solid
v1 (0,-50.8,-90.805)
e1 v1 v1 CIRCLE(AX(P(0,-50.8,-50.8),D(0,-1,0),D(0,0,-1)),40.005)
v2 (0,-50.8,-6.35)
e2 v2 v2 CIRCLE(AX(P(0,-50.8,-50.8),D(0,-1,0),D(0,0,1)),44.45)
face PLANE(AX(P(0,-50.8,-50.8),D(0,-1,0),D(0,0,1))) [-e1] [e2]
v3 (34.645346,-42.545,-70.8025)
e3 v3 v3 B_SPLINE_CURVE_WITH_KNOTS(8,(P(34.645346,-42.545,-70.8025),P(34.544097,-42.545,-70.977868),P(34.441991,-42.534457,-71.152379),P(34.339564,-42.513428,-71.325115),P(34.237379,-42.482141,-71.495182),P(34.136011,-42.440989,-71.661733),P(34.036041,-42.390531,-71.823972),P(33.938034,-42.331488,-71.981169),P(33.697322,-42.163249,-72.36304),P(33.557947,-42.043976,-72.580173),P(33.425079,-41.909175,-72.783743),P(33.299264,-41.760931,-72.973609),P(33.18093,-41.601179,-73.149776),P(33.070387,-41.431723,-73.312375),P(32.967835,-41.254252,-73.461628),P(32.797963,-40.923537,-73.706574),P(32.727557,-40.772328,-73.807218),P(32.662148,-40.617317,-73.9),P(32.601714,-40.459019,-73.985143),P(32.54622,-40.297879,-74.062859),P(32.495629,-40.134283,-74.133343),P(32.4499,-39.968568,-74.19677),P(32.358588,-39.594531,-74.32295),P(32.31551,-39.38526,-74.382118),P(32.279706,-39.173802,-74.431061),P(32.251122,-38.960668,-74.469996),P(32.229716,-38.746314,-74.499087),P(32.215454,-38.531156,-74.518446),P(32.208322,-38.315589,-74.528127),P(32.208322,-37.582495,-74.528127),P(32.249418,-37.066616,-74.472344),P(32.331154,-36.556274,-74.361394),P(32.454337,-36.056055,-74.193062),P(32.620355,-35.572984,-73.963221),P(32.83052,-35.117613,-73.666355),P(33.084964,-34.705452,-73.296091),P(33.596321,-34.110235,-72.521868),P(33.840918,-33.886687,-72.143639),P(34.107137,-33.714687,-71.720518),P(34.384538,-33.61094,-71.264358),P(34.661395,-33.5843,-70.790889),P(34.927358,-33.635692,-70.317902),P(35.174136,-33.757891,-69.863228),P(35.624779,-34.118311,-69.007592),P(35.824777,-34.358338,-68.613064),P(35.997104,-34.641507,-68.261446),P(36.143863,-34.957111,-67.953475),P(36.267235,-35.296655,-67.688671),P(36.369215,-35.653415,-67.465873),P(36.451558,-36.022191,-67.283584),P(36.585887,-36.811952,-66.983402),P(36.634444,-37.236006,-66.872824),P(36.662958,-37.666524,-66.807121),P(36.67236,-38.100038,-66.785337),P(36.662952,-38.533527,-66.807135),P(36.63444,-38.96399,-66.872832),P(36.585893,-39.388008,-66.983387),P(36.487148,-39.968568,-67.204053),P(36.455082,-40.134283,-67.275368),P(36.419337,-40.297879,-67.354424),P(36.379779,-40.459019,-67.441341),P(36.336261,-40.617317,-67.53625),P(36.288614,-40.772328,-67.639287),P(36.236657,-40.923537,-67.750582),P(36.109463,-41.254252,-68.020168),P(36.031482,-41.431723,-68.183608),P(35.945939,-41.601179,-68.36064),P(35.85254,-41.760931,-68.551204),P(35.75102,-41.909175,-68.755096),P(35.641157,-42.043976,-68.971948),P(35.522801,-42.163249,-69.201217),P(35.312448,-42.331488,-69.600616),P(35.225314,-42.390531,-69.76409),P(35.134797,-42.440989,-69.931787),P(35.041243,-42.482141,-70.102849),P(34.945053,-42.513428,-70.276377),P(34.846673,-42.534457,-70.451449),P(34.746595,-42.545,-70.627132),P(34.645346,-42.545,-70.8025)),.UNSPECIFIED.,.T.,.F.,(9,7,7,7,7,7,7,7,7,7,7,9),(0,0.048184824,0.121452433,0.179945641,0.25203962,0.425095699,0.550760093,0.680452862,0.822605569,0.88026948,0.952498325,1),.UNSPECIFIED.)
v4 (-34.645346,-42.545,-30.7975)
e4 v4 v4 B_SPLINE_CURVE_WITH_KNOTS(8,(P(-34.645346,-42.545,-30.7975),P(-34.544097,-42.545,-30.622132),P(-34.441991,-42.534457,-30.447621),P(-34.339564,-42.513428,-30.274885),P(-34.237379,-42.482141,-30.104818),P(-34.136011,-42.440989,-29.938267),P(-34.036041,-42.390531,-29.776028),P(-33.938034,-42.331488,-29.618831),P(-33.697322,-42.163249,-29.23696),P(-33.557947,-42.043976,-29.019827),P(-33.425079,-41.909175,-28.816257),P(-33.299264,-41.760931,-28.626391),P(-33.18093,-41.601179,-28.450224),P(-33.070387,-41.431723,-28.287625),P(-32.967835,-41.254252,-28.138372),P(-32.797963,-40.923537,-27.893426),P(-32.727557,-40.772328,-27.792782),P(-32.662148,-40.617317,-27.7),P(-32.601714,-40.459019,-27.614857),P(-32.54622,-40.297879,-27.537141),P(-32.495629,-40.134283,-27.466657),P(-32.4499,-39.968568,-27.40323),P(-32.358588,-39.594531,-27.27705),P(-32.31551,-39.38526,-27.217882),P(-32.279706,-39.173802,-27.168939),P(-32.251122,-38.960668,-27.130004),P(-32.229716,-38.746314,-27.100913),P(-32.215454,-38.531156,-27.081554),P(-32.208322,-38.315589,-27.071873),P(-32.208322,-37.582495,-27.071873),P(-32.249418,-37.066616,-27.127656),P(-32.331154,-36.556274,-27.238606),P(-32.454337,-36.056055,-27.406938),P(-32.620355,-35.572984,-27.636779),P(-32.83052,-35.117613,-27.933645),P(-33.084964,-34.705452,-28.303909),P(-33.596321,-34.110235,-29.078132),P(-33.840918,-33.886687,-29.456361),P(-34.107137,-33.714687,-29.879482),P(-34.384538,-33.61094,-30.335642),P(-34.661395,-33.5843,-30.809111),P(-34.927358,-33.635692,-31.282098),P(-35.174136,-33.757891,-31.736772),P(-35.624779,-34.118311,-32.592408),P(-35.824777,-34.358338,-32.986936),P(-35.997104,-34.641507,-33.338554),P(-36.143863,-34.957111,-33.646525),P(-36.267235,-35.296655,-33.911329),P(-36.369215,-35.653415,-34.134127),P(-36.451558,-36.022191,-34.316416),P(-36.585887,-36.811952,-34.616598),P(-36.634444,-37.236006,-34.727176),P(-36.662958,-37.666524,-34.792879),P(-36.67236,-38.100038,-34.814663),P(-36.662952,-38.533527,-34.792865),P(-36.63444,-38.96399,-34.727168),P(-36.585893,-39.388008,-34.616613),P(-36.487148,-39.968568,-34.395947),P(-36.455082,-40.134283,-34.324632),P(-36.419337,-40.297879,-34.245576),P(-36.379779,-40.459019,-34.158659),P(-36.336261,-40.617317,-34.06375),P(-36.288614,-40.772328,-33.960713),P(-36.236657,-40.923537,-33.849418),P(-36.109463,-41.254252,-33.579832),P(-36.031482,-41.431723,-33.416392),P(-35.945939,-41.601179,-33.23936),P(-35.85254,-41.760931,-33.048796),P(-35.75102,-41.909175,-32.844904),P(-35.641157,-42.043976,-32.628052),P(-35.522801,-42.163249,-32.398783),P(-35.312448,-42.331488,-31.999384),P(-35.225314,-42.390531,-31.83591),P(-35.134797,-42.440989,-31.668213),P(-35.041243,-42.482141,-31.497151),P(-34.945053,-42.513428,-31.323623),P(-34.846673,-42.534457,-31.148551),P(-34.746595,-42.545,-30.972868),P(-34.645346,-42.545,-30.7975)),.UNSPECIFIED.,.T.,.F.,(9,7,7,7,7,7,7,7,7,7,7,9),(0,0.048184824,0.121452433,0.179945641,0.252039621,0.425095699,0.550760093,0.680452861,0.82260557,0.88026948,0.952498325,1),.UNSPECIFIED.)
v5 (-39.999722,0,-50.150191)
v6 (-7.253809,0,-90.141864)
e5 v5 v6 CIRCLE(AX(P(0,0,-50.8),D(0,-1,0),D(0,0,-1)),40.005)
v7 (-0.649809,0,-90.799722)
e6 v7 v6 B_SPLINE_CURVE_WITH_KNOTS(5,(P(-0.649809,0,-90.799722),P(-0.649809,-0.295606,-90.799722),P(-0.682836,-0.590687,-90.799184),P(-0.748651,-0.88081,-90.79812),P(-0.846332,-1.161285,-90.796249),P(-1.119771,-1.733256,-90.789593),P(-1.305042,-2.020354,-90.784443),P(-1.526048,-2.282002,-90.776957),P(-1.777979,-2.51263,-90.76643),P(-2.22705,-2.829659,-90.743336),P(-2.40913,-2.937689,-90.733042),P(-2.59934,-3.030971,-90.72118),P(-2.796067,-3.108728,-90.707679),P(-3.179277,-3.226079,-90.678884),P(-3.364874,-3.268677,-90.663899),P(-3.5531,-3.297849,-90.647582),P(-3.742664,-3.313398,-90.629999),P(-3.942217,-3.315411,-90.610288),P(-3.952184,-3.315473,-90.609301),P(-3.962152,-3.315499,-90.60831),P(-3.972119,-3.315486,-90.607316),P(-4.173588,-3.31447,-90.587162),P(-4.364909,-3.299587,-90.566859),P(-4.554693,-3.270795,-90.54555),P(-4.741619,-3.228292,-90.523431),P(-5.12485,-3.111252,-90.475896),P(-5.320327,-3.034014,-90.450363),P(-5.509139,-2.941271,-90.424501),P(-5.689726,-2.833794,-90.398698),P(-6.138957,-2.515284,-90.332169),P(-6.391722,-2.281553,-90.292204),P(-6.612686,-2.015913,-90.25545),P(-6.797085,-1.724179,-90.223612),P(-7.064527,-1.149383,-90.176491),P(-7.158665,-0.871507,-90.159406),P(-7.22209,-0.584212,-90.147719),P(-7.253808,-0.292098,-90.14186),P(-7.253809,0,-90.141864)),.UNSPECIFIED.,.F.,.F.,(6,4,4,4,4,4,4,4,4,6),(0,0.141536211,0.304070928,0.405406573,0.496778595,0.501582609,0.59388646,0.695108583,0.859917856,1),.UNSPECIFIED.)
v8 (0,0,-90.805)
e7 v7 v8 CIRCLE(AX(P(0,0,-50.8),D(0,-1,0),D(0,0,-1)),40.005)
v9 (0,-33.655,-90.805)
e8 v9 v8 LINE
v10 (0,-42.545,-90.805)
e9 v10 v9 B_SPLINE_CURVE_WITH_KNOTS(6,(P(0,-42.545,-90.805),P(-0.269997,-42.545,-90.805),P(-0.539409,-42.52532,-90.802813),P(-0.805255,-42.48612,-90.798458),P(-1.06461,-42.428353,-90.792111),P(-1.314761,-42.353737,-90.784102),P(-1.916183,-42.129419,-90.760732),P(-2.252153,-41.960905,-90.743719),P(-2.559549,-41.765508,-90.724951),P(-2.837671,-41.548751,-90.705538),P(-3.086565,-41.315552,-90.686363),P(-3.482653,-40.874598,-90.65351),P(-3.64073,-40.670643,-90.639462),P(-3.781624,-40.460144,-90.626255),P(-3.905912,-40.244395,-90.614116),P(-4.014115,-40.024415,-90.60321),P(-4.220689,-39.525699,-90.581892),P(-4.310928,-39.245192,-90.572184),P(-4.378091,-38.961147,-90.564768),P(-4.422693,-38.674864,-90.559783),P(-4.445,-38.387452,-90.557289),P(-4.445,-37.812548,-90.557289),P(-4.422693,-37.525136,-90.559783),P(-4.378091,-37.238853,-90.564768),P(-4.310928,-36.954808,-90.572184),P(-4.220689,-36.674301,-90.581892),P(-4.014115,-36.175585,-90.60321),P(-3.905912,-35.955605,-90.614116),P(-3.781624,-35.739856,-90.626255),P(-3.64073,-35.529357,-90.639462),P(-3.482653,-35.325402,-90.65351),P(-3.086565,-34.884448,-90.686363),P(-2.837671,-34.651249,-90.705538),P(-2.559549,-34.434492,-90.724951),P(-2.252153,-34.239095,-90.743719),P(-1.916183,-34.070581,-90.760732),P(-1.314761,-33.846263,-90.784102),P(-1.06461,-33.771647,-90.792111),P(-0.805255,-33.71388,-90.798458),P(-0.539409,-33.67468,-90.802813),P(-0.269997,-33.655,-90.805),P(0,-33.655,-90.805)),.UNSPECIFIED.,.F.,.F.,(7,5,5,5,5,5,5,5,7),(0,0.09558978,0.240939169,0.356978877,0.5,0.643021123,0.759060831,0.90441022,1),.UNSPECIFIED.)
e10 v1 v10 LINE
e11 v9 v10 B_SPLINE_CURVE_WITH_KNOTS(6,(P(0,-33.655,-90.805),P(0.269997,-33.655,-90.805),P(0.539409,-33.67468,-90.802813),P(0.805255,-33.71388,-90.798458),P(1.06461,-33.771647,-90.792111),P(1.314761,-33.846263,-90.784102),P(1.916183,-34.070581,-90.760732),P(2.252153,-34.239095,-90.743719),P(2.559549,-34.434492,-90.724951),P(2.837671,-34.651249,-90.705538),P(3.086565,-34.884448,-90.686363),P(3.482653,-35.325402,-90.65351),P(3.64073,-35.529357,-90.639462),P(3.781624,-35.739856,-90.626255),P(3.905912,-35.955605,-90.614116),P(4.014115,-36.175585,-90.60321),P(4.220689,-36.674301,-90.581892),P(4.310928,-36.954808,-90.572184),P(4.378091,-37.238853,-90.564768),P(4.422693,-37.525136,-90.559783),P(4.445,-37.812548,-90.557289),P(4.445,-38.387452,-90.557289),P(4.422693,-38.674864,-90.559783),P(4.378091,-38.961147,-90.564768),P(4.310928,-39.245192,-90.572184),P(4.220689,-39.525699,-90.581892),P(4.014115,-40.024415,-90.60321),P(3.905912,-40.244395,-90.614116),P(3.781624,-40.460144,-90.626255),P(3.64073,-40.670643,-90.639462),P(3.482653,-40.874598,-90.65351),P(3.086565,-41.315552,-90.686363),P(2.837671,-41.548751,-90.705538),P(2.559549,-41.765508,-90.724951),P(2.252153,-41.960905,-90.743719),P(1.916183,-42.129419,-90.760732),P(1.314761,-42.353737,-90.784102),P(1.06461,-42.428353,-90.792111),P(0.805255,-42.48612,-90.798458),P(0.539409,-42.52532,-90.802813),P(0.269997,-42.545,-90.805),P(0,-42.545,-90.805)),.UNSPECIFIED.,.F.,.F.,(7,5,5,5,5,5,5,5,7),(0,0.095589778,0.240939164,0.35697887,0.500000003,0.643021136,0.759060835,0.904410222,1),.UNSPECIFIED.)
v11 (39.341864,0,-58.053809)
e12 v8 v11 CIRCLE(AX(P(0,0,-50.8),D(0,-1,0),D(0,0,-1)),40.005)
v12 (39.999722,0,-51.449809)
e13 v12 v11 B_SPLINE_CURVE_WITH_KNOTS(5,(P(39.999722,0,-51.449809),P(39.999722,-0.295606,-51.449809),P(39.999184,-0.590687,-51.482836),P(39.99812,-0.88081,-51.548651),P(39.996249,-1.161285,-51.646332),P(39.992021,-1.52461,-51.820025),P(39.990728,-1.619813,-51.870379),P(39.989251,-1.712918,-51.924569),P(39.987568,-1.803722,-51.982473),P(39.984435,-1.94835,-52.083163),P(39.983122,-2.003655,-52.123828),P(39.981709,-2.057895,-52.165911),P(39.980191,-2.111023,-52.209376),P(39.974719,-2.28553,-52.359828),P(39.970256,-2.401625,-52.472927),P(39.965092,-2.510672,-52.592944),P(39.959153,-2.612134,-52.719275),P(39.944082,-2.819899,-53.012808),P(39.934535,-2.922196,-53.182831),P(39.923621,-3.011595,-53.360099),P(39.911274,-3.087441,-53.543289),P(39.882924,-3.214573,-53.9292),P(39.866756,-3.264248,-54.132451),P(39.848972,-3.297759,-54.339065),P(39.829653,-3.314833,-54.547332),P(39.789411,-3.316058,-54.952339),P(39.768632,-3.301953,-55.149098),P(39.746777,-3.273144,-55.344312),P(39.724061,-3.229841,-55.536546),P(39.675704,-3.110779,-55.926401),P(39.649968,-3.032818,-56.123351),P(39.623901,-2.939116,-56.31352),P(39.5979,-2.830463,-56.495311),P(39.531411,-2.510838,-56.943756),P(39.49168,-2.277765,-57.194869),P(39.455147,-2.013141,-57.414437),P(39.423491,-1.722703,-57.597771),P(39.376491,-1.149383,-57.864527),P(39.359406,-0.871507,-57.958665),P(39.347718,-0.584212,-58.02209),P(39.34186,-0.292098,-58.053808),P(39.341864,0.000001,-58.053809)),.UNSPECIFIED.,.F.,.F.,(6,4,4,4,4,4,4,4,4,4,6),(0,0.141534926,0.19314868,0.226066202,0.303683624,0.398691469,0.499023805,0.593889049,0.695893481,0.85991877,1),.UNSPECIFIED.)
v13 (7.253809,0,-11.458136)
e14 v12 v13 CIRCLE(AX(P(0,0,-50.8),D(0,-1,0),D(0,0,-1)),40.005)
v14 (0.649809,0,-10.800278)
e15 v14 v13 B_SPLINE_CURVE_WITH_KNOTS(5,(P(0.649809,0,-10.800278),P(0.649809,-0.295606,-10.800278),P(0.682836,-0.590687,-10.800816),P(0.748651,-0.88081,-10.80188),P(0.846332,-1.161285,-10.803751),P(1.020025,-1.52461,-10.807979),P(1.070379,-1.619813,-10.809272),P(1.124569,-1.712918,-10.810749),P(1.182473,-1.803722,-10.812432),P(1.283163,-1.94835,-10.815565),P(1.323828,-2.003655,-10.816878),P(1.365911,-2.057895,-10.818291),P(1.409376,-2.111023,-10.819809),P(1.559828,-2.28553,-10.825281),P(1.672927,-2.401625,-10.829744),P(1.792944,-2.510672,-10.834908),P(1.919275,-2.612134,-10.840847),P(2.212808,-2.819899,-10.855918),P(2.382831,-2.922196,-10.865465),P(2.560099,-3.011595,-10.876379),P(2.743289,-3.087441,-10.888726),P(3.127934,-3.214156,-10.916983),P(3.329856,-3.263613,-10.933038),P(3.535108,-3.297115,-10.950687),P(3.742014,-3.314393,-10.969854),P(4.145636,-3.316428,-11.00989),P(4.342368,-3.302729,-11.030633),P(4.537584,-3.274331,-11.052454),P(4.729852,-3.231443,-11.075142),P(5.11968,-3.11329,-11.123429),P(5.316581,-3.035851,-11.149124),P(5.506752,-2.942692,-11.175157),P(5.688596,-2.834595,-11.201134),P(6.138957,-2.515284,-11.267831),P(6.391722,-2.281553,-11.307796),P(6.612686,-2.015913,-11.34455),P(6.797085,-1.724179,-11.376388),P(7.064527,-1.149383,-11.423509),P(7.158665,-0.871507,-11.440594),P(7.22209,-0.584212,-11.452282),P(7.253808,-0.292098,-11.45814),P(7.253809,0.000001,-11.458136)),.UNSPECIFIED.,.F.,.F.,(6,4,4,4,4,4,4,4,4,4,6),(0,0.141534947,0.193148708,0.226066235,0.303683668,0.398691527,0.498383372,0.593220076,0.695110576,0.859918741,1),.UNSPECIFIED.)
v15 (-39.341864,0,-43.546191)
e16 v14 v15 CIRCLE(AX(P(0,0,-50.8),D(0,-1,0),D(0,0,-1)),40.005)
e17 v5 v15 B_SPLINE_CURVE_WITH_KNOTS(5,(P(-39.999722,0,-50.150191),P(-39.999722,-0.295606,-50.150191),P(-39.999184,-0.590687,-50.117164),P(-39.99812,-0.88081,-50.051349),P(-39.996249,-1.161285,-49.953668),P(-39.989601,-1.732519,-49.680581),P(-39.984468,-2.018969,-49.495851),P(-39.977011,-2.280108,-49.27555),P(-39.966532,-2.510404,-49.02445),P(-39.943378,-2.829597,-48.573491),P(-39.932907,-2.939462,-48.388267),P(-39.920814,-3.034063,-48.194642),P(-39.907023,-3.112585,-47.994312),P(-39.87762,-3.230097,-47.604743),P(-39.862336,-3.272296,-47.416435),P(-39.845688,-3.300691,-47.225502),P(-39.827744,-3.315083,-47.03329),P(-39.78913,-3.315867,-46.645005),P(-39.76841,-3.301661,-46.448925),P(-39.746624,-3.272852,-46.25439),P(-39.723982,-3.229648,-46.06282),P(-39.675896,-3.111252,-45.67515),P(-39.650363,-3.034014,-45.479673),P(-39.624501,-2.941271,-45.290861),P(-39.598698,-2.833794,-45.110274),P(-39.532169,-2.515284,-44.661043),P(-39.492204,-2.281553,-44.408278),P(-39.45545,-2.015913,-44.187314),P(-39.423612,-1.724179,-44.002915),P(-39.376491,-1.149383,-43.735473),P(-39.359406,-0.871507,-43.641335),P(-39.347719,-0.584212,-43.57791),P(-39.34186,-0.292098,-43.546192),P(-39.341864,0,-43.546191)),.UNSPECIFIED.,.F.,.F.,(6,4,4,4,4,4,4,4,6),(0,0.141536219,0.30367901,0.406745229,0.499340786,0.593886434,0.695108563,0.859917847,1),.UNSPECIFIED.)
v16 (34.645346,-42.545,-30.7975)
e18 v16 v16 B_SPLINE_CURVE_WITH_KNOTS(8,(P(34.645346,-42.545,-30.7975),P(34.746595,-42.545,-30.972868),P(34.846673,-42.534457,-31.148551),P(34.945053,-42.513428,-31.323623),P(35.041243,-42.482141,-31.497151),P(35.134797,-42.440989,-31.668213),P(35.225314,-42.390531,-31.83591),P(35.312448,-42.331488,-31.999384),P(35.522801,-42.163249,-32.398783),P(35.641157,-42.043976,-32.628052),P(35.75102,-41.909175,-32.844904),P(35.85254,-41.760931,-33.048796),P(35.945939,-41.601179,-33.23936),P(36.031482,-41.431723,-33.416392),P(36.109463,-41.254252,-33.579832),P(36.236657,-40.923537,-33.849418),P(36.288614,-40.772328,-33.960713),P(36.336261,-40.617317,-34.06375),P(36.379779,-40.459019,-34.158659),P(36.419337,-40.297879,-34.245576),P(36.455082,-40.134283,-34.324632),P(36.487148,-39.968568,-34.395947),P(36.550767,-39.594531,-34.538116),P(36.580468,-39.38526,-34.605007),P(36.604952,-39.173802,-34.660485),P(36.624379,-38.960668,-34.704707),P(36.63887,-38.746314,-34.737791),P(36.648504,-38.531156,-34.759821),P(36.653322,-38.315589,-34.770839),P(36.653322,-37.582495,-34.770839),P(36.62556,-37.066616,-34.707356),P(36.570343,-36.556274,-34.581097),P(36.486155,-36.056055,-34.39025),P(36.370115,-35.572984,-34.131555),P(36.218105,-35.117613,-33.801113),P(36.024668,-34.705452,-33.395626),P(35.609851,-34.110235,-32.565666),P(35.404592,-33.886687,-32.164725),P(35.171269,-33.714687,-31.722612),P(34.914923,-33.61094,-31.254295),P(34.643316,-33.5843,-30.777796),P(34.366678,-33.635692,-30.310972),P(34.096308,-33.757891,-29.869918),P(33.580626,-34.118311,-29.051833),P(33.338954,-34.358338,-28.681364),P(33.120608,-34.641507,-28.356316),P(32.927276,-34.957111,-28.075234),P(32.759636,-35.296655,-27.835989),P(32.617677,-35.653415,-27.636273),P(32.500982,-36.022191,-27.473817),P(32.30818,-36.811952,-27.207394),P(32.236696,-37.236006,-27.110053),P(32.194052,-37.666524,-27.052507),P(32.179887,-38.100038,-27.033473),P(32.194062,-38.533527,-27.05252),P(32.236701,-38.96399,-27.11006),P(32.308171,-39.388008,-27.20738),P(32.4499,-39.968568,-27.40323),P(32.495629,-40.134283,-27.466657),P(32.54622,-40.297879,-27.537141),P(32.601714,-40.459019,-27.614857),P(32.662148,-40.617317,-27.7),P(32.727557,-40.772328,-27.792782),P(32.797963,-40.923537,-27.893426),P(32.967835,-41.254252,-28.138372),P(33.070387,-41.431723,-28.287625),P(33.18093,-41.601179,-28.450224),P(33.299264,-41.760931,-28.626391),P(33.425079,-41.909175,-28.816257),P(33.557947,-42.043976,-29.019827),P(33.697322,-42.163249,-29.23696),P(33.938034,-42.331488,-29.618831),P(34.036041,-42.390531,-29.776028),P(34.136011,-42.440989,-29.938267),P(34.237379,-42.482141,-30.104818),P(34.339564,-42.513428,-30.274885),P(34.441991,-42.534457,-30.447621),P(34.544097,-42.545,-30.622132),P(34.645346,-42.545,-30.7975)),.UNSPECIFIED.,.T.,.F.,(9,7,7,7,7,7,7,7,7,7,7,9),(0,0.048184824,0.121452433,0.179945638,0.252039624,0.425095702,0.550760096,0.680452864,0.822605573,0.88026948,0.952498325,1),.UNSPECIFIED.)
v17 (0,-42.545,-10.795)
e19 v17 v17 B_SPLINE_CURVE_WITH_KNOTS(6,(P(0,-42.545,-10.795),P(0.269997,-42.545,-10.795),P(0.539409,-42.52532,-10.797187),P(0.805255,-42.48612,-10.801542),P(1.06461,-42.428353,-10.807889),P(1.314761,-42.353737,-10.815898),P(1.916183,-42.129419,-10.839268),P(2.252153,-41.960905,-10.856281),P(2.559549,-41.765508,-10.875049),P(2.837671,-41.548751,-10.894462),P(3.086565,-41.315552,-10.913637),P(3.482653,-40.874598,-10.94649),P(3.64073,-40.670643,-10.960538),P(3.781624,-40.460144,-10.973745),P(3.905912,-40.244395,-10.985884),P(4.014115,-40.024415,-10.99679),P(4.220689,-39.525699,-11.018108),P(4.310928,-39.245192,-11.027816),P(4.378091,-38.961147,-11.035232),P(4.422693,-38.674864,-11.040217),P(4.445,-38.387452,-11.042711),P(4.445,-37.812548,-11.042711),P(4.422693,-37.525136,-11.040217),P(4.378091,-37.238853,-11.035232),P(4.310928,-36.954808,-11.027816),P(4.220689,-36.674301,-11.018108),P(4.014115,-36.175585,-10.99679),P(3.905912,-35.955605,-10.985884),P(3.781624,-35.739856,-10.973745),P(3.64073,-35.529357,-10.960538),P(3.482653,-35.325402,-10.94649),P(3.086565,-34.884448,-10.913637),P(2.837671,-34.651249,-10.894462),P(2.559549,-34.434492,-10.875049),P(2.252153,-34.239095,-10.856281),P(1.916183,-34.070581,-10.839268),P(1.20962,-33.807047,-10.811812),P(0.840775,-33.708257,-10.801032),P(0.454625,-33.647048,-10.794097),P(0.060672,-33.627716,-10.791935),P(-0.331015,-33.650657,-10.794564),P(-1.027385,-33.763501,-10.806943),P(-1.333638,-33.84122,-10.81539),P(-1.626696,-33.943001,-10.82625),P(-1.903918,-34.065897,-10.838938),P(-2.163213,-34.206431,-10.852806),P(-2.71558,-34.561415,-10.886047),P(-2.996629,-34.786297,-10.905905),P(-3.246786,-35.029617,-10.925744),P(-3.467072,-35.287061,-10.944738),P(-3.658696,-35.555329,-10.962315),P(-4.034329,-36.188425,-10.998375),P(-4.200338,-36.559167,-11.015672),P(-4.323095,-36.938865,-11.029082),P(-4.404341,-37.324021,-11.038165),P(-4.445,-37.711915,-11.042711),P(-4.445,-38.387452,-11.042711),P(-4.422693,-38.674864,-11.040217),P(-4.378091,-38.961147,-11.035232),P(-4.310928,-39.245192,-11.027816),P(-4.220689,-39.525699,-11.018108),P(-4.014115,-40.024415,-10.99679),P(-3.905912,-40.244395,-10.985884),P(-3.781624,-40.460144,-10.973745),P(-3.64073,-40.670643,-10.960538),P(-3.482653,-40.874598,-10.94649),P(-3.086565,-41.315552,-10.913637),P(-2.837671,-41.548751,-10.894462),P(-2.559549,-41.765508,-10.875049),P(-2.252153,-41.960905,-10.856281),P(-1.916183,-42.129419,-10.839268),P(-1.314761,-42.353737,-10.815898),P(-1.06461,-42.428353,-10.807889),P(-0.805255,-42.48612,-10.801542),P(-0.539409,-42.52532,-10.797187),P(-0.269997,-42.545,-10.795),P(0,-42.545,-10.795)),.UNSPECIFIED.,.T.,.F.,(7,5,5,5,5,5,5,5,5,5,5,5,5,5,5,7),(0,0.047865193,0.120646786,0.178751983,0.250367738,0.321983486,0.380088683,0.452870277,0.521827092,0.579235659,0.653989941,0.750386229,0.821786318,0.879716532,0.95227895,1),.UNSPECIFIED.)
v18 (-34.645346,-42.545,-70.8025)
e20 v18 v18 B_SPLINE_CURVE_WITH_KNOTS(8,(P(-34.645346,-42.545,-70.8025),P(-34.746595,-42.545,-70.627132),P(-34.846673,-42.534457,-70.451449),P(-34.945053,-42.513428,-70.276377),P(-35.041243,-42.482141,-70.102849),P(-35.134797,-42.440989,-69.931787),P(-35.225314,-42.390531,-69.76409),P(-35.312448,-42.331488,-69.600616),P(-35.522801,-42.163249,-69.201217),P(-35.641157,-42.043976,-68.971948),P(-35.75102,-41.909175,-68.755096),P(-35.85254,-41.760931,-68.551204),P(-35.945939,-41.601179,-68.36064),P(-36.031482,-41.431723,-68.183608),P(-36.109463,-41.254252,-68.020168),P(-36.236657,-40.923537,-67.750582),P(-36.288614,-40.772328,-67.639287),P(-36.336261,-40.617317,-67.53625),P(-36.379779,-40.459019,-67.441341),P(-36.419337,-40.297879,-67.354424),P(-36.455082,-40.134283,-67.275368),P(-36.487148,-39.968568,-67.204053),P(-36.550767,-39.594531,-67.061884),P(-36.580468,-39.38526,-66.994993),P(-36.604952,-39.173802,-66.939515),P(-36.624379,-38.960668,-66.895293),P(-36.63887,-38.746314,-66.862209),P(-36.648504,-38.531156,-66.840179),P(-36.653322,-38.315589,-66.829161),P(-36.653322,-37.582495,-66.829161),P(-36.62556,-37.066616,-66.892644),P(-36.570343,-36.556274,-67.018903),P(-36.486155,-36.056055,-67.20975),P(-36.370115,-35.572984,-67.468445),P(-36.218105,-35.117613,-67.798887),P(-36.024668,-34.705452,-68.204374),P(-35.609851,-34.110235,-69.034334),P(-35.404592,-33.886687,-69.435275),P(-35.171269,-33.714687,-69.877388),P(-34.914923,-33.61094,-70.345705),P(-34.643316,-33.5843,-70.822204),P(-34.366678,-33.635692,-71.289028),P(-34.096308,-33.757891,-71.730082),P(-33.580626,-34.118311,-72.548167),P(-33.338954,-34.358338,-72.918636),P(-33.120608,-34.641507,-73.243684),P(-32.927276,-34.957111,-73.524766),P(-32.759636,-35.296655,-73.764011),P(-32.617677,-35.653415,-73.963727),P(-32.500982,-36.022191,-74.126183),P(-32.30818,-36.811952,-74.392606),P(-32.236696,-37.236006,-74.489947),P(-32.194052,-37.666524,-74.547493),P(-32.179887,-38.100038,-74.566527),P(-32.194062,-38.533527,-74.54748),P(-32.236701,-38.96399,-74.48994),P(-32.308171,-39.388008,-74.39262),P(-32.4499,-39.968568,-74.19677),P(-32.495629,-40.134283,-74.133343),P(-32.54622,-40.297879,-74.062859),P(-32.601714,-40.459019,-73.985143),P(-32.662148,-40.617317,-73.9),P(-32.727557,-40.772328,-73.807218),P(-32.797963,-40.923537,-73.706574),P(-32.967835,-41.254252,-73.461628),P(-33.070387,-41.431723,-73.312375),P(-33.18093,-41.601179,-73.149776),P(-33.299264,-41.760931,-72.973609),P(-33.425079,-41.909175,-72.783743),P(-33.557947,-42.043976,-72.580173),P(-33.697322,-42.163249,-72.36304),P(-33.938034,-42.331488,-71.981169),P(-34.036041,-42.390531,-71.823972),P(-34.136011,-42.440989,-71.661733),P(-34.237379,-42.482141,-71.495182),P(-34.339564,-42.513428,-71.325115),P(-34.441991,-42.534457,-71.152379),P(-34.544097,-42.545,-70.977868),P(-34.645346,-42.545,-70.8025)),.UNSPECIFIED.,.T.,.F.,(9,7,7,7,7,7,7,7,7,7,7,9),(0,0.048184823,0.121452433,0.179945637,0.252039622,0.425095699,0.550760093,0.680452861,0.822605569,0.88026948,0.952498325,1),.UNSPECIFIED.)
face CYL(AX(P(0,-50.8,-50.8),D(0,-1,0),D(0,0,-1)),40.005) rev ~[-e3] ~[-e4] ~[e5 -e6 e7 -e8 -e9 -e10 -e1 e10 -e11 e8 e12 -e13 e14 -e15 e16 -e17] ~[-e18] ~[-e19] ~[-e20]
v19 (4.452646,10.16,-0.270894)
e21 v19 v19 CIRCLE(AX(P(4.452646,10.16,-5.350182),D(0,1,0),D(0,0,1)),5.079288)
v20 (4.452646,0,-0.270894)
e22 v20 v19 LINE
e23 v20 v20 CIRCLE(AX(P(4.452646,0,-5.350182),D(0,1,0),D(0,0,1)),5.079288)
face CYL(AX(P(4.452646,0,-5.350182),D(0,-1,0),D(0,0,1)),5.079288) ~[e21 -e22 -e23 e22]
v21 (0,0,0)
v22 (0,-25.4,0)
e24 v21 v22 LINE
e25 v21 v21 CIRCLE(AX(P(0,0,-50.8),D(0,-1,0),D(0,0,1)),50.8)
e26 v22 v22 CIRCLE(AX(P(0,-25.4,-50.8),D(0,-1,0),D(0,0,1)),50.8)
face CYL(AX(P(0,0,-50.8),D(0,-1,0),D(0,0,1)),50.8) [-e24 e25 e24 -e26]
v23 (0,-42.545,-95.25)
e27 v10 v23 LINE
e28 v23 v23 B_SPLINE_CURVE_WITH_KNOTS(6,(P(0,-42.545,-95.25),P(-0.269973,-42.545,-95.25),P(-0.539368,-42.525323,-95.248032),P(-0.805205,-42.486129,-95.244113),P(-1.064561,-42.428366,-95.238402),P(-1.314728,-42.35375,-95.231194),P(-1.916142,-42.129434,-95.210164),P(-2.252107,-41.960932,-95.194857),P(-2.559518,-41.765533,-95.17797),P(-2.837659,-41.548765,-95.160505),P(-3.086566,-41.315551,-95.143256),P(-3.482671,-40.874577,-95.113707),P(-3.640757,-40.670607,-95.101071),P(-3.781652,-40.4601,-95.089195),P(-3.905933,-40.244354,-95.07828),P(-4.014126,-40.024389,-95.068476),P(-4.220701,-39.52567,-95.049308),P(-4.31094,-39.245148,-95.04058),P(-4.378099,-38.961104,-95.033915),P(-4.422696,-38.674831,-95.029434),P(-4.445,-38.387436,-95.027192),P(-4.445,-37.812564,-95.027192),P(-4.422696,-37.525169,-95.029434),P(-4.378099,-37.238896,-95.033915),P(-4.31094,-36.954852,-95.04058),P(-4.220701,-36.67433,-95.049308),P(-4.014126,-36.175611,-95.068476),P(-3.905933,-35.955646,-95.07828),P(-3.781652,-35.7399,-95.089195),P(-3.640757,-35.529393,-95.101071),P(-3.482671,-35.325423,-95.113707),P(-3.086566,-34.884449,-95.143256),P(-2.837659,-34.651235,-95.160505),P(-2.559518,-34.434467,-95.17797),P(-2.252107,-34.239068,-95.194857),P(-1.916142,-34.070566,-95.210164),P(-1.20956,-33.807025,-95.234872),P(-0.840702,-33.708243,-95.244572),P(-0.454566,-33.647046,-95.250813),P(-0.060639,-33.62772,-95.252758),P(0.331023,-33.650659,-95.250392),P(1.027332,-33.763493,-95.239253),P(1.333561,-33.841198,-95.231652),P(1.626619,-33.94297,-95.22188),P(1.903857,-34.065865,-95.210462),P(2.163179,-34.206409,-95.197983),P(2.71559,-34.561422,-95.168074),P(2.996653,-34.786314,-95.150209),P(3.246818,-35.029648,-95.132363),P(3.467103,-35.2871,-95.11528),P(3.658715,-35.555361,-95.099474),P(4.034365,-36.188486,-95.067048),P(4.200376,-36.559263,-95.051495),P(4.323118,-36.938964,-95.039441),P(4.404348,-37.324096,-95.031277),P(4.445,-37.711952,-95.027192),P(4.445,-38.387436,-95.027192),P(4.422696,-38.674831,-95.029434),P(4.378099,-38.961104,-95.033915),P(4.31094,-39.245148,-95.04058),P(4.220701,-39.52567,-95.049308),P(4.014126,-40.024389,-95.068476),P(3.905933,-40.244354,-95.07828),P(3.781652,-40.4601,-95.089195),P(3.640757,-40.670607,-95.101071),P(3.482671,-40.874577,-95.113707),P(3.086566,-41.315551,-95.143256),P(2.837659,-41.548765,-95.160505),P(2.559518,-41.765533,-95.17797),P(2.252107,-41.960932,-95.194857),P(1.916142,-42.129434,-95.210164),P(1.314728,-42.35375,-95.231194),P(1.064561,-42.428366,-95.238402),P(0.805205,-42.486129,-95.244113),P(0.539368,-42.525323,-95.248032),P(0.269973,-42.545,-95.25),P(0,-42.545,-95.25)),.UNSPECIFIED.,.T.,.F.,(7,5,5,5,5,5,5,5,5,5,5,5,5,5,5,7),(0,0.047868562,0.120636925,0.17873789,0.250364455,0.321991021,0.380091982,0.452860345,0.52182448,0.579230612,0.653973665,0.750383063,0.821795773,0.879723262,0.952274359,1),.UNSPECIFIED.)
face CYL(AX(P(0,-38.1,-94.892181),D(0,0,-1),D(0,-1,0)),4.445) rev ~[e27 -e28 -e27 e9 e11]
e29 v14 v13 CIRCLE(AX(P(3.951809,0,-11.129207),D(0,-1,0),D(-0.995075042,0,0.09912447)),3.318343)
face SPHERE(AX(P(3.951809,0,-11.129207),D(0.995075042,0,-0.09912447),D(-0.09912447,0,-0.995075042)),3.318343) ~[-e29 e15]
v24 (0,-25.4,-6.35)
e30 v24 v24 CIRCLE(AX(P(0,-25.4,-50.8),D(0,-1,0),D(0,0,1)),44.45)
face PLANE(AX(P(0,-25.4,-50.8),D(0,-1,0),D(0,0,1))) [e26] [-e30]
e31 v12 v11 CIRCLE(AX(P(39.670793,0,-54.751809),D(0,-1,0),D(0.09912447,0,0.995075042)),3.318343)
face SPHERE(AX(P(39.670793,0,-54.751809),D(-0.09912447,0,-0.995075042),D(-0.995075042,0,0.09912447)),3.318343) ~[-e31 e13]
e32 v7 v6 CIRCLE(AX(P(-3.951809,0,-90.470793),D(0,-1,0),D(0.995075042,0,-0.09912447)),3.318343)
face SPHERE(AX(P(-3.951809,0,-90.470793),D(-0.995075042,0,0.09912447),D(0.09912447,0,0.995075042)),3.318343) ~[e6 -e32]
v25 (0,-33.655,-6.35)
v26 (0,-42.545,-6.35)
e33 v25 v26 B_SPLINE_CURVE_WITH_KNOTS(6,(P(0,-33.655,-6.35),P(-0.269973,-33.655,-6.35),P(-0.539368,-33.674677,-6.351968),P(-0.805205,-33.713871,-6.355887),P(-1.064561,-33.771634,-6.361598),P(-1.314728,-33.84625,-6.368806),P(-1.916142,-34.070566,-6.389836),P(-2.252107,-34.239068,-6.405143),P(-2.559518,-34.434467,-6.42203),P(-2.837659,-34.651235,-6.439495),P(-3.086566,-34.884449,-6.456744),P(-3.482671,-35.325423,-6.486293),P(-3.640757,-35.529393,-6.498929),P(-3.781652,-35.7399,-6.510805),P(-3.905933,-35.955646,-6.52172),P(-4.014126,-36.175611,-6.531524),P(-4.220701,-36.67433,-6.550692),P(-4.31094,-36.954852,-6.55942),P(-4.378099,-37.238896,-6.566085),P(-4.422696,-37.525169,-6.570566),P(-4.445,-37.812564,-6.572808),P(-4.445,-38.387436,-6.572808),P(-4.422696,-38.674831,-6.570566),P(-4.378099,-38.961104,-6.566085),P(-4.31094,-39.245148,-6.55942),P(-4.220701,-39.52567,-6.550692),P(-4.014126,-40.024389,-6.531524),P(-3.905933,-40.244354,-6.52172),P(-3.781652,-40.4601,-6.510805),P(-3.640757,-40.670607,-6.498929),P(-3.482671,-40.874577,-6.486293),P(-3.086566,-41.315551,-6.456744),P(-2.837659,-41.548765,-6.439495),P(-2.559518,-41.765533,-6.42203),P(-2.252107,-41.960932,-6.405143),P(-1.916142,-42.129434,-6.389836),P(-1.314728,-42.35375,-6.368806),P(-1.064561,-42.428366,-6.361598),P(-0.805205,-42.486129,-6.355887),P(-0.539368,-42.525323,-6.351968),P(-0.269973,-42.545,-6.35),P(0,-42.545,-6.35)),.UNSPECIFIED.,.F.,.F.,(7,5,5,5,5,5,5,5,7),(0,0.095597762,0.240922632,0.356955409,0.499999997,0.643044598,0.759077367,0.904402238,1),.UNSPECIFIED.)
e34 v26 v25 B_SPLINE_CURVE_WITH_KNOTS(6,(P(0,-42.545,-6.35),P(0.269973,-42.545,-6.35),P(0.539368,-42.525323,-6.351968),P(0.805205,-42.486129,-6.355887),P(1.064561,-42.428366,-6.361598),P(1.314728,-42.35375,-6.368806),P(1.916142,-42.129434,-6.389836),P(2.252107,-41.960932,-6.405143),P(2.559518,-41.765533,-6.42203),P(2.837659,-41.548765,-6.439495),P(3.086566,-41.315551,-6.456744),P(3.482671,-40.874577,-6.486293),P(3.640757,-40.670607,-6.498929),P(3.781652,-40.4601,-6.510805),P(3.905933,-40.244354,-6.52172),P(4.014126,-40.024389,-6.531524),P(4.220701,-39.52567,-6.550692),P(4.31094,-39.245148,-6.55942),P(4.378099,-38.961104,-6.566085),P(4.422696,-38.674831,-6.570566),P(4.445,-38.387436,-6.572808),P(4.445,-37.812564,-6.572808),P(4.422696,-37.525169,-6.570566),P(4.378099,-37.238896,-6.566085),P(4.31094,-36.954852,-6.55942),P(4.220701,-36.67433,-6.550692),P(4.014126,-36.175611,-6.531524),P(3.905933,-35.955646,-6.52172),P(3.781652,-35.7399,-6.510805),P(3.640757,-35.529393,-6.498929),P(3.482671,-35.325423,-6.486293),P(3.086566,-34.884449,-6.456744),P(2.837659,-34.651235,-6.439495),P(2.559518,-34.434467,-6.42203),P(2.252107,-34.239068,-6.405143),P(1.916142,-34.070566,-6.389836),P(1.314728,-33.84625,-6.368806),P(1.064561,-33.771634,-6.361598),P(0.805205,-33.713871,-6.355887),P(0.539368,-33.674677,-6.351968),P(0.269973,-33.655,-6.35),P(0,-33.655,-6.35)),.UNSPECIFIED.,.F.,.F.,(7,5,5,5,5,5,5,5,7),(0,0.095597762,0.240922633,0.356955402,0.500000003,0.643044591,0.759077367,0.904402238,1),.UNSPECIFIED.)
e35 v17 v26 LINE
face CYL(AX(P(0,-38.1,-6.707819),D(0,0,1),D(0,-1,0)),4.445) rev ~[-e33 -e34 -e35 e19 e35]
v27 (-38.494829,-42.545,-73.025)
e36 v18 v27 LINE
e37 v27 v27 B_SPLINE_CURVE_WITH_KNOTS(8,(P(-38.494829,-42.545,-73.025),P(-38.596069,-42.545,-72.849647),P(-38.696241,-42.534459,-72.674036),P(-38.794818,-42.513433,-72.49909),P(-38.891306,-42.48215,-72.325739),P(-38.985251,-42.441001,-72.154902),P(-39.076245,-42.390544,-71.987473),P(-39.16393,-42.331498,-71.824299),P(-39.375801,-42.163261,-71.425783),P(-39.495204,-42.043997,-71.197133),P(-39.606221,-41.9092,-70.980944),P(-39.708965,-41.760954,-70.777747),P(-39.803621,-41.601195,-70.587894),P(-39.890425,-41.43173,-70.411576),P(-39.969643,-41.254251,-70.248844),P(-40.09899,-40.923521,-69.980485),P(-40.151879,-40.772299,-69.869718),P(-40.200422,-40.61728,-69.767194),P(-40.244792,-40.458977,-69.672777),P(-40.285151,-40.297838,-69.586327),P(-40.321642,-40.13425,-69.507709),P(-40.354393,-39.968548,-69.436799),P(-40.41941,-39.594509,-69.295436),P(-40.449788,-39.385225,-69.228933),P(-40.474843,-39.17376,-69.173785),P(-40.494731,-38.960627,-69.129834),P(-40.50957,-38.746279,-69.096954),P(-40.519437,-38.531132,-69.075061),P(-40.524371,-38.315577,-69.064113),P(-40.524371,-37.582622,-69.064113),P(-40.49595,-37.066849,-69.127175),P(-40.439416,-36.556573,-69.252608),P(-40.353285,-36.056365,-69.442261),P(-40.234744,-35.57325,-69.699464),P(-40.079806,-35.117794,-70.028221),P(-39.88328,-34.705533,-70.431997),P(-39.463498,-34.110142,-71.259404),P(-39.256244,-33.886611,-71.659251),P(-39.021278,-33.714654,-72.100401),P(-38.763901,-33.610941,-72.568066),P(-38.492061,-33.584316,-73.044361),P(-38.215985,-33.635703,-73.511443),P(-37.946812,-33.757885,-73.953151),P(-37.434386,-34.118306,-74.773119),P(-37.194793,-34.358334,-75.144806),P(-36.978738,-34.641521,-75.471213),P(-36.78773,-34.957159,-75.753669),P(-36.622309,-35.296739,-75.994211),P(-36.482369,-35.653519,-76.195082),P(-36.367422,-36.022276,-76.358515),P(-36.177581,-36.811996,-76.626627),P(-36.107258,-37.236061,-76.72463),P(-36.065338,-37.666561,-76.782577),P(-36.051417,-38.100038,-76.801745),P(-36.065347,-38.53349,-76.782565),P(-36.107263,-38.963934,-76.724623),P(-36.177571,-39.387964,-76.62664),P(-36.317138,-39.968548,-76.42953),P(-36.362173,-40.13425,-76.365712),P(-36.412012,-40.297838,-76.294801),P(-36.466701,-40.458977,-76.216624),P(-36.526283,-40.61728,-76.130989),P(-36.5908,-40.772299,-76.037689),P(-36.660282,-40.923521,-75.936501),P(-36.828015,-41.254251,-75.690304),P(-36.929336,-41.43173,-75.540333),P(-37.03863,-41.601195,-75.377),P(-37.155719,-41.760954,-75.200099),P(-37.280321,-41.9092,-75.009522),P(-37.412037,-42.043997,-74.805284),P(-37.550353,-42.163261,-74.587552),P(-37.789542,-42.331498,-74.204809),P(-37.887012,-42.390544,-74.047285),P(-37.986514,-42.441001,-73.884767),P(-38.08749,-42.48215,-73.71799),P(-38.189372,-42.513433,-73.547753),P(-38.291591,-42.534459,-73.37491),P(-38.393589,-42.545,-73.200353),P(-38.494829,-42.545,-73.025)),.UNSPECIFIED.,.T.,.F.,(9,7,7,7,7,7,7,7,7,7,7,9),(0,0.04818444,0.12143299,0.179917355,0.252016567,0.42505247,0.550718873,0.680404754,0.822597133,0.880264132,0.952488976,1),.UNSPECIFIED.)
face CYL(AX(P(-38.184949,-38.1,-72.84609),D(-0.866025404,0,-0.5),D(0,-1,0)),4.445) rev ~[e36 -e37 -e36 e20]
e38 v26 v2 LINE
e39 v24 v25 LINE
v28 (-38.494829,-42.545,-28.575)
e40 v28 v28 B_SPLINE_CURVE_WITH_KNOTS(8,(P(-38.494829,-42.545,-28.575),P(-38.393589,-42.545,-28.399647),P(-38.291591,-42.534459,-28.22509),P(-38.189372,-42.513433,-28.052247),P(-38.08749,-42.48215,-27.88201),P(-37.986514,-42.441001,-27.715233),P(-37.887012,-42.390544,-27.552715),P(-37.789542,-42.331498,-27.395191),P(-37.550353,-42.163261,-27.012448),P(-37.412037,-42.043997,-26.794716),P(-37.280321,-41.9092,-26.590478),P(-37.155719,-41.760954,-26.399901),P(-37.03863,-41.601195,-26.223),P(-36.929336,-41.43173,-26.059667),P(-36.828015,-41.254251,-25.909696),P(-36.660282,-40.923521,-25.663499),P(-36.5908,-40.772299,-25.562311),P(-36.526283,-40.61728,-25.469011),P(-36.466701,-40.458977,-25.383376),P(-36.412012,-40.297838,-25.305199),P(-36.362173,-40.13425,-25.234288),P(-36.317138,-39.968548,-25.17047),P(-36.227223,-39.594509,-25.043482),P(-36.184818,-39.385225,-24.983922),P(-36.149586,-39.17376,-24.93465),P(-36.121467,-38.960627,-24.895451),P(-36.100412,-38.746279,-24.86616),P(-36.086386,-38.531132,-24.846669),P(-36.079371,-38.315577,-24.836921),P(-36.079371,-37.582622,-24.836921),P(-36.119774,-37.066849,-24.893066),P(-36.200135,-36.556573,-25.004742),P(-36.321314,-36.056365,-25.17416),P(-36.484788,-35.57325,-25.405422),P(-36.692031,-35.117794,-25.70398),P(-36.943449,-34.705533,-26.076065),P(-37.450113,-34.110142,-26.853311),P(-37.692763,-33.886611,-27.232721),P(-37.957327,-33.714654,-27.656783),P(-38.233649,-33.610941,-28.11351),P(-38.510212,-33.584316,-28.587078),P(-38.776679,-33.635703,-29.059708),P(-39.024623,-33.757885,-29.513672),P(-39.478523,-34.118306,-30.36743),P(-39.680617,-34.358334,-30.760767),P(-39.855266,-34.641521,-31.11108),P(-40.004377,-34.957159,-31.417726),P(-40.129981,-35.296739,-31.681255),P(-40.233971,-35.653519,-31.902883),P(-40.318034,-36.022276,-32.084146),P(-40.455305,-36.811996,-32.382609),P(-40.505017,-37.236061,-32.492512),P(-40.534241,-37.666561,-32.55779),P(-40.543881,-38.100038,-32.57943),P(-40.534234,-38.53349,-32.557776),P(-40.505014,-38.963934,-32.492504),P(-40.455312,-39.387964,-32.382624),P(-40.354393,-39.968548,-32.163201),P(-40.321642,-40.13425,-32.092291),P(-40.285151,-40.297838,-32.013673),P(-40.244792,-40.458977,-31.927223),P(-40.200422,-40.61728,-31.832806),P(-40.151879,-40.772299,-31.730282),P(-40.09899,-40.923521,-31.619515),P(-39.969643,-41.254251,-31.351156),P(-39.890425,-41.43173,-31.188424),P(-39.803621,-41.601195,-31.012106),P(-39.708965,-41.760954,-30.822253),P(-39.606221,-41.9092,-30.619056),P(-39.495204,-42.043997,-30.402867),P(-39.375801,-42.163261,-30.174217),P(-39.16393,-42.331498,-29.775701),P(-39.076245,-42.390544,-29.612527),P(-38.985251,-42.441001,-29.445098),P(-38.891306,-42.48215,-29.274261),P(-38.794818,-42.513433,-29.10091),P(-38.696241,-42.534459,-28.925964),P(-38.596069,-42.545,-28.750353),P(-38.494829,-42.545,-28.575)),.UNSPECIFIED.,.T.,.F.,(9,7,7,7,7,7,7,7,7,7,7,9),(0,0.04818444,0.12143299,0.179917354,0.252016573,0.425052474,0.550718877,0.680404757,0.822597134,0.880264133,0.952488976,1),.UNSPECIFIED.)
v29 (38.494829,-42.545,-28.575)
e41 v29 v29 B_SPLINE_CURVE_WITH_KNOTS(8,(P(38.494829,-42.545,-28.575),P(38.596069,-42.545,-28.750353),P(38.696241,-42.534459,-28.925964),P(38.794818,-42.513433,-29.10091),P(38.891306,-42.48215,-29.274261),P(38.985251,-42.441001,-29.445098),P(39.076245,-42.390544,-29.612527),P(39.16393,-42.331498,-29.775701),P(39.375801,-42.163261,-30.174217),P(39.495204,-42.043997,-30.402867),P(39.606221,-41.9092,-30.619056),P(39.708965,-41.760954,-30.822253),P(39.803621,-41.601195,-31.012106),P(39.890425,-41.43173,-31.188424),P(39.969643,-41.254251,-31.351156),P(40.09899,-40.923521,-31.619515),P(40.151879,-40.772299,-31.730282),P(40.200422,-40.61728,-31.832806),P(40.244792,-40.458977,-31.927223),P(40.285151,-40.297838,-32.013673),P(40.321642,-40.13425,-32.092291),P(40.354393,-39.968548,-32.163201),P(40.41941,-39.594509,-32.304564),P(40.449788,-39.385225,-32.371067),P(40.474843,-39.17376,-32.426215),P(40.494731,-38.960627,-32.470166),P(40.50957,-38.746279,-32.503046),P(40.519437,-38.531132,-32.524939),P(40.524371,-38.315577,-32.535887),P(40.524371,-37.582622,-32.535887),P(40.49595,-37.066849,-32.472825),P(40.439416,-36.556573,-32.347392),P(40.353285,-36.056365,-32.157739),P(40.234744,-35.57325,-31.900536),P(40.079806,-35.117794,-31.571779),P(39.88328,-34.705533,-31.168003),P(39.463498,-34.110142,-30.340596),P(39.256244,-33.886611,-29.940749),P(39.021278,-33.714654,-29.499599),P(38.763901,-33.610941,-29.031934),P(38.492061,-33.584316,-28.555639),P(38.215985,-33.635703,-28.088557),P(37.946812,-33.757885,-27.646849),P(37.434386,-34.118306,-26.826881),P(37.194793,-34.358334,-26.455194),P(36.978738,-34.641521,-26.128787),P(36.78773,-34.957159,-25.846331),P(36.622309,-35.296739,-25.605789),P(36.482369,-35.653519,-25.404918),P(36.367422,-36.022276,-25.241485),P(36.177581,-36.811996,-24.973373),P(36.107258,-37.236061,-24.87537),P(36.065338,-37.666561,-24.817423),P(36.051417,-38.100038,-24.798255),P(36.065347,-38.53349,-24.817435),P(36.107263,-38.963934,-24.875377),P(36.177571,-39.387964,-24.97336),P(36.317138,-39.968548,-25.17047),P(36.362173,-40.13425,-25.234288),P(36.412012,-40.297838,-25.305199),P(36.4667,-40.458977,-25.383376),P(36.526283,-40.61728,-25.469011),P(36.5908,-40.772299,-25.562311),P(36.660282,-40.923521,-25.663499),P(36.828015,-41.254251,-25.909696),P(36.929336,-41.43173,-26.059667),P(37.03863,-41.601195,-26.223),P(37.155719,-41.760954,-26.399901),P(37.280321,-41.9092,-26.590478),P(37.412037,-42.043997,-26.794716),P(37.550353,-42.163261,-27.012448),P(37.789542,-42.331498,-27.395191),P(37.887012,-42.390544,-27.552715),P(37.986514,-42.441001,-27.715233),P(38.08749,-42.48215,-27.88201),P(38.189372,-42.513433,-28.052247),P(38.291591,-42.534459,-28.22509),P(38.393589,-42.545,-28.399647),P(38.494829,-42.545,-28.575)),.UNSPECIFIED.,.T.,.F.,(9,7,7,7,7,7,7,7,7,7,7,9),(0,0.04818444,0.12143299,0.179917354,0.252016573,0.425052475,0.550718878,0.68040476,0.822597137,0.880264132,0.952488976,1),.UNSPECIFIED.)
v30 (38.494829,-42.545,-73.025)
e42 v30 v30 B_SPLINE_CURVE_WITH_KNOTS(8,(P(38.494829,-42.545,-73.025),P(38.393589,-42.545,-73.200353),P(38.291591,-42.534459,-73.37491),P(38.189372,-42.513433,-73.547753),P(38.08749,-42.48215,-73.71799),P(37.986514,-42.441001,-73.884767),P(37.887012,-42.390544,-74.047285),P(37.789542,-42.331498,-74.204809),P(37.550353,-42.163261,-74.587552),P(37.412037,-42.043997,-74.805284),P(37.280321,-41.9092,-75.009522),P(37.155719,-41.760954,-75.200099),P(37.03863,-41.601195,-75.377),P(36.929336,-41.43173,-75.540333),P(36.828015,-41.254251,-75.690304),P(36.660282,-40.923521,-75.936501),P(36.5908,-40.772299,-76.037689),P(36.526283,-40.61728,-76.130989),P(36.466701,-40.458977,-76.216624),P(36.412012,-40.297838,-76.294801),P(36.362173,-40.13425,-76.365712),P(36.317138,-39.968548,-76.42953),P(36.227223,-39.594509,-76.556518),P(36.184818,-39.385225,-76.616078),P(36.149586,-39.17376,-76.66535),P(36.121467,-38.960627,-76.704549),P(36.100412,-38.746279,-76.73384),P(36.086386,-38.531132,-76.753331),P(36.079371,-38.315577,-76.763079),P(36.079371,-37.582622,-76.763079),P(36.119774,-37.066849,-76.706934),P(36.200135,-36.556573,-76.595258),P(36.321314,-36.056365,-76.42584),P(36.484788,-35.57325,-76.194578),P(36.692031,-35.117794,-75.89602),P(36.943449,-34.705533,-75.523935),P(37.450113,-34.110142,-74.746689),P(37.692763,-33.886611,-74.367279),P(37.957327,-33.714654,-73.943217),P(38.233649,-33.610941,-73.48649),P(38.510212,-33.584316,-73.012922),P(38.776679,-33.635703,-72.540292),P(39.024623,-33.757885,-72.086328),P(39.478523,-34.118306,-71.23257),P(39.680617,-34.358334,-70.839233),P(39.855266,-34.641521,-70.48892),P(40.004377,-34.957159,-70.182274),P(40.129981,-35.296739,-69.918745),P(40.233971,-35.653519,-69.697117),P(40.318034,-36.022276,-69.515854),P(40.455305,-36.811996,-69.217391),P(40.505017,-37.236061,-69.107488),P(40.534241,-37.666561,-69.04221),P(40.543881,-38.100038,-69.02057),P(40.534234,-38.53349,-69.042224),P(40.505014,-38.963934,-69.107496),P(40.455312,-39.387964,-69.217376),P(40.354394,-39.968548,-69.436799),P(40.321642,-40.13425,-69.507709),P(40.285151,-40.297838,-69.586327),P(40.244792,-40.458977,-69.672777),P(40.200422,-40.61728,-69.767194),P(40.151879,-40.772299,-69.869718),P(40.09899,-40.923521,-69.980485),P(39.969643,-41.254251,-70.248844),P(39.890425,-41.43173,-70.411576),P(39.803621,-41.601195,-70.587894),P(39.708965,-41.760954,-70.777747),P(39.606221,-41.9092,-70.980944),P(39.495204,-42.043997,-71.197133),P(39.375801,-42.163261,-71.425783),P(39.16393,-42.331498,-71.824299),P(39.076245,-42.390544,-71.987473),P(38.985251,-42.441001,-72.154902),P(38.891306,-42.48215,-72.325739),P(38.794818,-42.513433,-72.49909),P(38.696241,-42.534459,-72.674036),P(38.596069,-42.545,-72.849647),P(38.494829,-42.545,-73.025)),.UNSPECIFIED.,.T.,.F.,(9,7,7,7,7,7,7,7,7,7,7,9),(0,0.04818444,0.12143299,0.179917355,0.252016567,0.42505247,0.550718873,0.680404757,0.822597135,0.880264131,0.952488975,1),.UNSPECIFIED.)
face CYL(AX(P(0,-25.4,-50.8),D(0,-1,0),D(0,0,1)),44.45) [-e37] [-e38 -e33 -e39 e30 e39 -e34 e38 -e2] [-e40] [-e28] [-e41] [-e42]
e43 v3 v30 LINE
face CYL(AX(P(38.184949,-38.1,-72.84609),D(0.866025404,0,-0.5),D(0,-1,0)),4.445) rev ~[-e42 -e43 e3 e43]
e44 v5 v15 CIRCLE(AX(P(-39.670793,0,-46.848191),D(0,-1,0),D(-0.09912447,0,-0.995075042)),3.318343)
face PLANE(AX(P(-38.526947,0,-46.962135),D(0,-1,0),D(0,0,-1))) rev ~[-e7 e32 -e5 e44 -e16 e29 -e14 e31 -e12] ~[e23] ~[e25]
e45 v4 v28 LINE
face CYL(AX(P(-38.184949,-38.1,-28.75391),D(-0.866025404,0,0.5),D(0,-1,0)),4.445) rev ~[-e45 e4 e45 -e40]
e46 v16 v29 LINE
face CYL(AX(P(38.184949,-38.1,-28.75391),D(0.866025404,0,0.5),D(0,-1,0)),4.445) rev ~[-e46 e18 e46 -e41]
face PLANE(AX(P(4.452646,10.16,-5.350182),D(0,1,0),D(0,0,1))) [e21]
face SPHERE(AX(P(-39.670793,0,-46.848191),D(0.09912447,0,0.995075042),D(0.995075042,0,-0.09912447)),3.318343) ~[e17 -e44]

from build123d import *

# Parameters (mm, degrees)
SKETCH8_R           = 4.445
CUT_EXTRUDE2_DEPTH  = 10.16
CIRPATTERN1_COUNT   = 6
SKETCH10_R          = 40.005
CUT_EXTRUDE4_DEPTH  = 125.434078974
REVOLVE4_ANGLE      = 180
CIRPATTERN2_COUNT   = 4
SKETCH16_R          = 5.079288484
BOSS_EXTRUDE1_DEPTH = 10.16


with BuildPart() as part:
    # Sketch1 → Revolve1 (revolve)
    with BuildSketch(Plane(origin=(0, 0, 0), x_dir=(0, 0, -1), z_dir=(1, 0, 0))):
        Polygon((0, 0), (0, -25.4), (6.35, -25.4), (6.35, -50.8), (12.7, -50.8), (12.7, 0), align=None)
    revolve(axis=Axis((0, 24.668312757, -50.8), (0, -1, 0)))

    # Sketch8 → Cut-Extrude2 (cut, symmetric)
    with BuildSketch(Plane.XY.offset(-6.707819403)):
        with Locations(Location((0, -38.1, 0), (0, 0, 270))):
            Circle(SKETCH8_R)
    cut_extrude2 = extrude(amount=CUT_EXTRUDE2_DEPTH, both=True, mode=Mode.SUBTRACT)

    # CirPattern1: Cut-Extrude2 ×6 about axis
    cirpattern1_axis = Axis((0, 24.668312757, -50.8), (0, 1, 0))
    for i in range(1, CIRPATTERN1_COUNT):
        add(cut_extrude2.rotate(cirpattern1_axis, i * 360 / CIRPATTERN1_COUNT), mode=Mode.SUBTRACT)

    # Sketch10 → Cut-Extrude4 (cut, through all)
    with BuildSketch(Plane.XZ.offset(50.8)):
        with Locations(Location((0, -50.8, 0), (0, 0, 270))):
            Circle(SKETCH10_R)
    extrude(amount=-CUT_EXTRUDE4_DEPTH, mode=Mode.SUBTRACT)

    # Sketch14 → Revolve4 (revolve)
    with BuildSketch(Plane(origin=(0, 0, 0), x_dir=(1, 0, 0), z_dir=(0, 1, 0))):
        with BuildLine():
            Line((7.253808844, 11.458135755), (0.649808844, 10.800277833))
            ThreePointArc((0.649808844, 10.800277833), (3.622879883, 14.431206794), (7.253808844, 11.458135755))
        make_face()
    revolve4 = revolve(axis=Axis((0.649808844, 0, -10.800277833), (-0.9950750421165625, 0, 0.09912447001987663)), revolution_arc=REVOLVE4_ANGLE)

    # CirPattern2: Revolve4 ×4 about axis
    cirpattern2_axis = Axis((0, 0, -50.8), (0, 1, 0))
    for i in range(1, CIRPATTERN2_COUNT):
        add(revolve4.rotate(cirpattern2_axis, i * 360 / CIRPATTERN2_COUNT))

    # Sketch16 → Boss-Extrude1 (add)
    with BuildSketch(Plane(origin=(0, 0, 0), x_dir=(1, 0, 0), z_dir=(0, 1, 0))):
        with Locations(Location((4.452646476, 5.350182374, 0), (0, 0, 270))):
            Circle(SKETCH16_R)
    extrude(amount=BOSS_EXTRUDE1_DEPTH)


solid = part.part
